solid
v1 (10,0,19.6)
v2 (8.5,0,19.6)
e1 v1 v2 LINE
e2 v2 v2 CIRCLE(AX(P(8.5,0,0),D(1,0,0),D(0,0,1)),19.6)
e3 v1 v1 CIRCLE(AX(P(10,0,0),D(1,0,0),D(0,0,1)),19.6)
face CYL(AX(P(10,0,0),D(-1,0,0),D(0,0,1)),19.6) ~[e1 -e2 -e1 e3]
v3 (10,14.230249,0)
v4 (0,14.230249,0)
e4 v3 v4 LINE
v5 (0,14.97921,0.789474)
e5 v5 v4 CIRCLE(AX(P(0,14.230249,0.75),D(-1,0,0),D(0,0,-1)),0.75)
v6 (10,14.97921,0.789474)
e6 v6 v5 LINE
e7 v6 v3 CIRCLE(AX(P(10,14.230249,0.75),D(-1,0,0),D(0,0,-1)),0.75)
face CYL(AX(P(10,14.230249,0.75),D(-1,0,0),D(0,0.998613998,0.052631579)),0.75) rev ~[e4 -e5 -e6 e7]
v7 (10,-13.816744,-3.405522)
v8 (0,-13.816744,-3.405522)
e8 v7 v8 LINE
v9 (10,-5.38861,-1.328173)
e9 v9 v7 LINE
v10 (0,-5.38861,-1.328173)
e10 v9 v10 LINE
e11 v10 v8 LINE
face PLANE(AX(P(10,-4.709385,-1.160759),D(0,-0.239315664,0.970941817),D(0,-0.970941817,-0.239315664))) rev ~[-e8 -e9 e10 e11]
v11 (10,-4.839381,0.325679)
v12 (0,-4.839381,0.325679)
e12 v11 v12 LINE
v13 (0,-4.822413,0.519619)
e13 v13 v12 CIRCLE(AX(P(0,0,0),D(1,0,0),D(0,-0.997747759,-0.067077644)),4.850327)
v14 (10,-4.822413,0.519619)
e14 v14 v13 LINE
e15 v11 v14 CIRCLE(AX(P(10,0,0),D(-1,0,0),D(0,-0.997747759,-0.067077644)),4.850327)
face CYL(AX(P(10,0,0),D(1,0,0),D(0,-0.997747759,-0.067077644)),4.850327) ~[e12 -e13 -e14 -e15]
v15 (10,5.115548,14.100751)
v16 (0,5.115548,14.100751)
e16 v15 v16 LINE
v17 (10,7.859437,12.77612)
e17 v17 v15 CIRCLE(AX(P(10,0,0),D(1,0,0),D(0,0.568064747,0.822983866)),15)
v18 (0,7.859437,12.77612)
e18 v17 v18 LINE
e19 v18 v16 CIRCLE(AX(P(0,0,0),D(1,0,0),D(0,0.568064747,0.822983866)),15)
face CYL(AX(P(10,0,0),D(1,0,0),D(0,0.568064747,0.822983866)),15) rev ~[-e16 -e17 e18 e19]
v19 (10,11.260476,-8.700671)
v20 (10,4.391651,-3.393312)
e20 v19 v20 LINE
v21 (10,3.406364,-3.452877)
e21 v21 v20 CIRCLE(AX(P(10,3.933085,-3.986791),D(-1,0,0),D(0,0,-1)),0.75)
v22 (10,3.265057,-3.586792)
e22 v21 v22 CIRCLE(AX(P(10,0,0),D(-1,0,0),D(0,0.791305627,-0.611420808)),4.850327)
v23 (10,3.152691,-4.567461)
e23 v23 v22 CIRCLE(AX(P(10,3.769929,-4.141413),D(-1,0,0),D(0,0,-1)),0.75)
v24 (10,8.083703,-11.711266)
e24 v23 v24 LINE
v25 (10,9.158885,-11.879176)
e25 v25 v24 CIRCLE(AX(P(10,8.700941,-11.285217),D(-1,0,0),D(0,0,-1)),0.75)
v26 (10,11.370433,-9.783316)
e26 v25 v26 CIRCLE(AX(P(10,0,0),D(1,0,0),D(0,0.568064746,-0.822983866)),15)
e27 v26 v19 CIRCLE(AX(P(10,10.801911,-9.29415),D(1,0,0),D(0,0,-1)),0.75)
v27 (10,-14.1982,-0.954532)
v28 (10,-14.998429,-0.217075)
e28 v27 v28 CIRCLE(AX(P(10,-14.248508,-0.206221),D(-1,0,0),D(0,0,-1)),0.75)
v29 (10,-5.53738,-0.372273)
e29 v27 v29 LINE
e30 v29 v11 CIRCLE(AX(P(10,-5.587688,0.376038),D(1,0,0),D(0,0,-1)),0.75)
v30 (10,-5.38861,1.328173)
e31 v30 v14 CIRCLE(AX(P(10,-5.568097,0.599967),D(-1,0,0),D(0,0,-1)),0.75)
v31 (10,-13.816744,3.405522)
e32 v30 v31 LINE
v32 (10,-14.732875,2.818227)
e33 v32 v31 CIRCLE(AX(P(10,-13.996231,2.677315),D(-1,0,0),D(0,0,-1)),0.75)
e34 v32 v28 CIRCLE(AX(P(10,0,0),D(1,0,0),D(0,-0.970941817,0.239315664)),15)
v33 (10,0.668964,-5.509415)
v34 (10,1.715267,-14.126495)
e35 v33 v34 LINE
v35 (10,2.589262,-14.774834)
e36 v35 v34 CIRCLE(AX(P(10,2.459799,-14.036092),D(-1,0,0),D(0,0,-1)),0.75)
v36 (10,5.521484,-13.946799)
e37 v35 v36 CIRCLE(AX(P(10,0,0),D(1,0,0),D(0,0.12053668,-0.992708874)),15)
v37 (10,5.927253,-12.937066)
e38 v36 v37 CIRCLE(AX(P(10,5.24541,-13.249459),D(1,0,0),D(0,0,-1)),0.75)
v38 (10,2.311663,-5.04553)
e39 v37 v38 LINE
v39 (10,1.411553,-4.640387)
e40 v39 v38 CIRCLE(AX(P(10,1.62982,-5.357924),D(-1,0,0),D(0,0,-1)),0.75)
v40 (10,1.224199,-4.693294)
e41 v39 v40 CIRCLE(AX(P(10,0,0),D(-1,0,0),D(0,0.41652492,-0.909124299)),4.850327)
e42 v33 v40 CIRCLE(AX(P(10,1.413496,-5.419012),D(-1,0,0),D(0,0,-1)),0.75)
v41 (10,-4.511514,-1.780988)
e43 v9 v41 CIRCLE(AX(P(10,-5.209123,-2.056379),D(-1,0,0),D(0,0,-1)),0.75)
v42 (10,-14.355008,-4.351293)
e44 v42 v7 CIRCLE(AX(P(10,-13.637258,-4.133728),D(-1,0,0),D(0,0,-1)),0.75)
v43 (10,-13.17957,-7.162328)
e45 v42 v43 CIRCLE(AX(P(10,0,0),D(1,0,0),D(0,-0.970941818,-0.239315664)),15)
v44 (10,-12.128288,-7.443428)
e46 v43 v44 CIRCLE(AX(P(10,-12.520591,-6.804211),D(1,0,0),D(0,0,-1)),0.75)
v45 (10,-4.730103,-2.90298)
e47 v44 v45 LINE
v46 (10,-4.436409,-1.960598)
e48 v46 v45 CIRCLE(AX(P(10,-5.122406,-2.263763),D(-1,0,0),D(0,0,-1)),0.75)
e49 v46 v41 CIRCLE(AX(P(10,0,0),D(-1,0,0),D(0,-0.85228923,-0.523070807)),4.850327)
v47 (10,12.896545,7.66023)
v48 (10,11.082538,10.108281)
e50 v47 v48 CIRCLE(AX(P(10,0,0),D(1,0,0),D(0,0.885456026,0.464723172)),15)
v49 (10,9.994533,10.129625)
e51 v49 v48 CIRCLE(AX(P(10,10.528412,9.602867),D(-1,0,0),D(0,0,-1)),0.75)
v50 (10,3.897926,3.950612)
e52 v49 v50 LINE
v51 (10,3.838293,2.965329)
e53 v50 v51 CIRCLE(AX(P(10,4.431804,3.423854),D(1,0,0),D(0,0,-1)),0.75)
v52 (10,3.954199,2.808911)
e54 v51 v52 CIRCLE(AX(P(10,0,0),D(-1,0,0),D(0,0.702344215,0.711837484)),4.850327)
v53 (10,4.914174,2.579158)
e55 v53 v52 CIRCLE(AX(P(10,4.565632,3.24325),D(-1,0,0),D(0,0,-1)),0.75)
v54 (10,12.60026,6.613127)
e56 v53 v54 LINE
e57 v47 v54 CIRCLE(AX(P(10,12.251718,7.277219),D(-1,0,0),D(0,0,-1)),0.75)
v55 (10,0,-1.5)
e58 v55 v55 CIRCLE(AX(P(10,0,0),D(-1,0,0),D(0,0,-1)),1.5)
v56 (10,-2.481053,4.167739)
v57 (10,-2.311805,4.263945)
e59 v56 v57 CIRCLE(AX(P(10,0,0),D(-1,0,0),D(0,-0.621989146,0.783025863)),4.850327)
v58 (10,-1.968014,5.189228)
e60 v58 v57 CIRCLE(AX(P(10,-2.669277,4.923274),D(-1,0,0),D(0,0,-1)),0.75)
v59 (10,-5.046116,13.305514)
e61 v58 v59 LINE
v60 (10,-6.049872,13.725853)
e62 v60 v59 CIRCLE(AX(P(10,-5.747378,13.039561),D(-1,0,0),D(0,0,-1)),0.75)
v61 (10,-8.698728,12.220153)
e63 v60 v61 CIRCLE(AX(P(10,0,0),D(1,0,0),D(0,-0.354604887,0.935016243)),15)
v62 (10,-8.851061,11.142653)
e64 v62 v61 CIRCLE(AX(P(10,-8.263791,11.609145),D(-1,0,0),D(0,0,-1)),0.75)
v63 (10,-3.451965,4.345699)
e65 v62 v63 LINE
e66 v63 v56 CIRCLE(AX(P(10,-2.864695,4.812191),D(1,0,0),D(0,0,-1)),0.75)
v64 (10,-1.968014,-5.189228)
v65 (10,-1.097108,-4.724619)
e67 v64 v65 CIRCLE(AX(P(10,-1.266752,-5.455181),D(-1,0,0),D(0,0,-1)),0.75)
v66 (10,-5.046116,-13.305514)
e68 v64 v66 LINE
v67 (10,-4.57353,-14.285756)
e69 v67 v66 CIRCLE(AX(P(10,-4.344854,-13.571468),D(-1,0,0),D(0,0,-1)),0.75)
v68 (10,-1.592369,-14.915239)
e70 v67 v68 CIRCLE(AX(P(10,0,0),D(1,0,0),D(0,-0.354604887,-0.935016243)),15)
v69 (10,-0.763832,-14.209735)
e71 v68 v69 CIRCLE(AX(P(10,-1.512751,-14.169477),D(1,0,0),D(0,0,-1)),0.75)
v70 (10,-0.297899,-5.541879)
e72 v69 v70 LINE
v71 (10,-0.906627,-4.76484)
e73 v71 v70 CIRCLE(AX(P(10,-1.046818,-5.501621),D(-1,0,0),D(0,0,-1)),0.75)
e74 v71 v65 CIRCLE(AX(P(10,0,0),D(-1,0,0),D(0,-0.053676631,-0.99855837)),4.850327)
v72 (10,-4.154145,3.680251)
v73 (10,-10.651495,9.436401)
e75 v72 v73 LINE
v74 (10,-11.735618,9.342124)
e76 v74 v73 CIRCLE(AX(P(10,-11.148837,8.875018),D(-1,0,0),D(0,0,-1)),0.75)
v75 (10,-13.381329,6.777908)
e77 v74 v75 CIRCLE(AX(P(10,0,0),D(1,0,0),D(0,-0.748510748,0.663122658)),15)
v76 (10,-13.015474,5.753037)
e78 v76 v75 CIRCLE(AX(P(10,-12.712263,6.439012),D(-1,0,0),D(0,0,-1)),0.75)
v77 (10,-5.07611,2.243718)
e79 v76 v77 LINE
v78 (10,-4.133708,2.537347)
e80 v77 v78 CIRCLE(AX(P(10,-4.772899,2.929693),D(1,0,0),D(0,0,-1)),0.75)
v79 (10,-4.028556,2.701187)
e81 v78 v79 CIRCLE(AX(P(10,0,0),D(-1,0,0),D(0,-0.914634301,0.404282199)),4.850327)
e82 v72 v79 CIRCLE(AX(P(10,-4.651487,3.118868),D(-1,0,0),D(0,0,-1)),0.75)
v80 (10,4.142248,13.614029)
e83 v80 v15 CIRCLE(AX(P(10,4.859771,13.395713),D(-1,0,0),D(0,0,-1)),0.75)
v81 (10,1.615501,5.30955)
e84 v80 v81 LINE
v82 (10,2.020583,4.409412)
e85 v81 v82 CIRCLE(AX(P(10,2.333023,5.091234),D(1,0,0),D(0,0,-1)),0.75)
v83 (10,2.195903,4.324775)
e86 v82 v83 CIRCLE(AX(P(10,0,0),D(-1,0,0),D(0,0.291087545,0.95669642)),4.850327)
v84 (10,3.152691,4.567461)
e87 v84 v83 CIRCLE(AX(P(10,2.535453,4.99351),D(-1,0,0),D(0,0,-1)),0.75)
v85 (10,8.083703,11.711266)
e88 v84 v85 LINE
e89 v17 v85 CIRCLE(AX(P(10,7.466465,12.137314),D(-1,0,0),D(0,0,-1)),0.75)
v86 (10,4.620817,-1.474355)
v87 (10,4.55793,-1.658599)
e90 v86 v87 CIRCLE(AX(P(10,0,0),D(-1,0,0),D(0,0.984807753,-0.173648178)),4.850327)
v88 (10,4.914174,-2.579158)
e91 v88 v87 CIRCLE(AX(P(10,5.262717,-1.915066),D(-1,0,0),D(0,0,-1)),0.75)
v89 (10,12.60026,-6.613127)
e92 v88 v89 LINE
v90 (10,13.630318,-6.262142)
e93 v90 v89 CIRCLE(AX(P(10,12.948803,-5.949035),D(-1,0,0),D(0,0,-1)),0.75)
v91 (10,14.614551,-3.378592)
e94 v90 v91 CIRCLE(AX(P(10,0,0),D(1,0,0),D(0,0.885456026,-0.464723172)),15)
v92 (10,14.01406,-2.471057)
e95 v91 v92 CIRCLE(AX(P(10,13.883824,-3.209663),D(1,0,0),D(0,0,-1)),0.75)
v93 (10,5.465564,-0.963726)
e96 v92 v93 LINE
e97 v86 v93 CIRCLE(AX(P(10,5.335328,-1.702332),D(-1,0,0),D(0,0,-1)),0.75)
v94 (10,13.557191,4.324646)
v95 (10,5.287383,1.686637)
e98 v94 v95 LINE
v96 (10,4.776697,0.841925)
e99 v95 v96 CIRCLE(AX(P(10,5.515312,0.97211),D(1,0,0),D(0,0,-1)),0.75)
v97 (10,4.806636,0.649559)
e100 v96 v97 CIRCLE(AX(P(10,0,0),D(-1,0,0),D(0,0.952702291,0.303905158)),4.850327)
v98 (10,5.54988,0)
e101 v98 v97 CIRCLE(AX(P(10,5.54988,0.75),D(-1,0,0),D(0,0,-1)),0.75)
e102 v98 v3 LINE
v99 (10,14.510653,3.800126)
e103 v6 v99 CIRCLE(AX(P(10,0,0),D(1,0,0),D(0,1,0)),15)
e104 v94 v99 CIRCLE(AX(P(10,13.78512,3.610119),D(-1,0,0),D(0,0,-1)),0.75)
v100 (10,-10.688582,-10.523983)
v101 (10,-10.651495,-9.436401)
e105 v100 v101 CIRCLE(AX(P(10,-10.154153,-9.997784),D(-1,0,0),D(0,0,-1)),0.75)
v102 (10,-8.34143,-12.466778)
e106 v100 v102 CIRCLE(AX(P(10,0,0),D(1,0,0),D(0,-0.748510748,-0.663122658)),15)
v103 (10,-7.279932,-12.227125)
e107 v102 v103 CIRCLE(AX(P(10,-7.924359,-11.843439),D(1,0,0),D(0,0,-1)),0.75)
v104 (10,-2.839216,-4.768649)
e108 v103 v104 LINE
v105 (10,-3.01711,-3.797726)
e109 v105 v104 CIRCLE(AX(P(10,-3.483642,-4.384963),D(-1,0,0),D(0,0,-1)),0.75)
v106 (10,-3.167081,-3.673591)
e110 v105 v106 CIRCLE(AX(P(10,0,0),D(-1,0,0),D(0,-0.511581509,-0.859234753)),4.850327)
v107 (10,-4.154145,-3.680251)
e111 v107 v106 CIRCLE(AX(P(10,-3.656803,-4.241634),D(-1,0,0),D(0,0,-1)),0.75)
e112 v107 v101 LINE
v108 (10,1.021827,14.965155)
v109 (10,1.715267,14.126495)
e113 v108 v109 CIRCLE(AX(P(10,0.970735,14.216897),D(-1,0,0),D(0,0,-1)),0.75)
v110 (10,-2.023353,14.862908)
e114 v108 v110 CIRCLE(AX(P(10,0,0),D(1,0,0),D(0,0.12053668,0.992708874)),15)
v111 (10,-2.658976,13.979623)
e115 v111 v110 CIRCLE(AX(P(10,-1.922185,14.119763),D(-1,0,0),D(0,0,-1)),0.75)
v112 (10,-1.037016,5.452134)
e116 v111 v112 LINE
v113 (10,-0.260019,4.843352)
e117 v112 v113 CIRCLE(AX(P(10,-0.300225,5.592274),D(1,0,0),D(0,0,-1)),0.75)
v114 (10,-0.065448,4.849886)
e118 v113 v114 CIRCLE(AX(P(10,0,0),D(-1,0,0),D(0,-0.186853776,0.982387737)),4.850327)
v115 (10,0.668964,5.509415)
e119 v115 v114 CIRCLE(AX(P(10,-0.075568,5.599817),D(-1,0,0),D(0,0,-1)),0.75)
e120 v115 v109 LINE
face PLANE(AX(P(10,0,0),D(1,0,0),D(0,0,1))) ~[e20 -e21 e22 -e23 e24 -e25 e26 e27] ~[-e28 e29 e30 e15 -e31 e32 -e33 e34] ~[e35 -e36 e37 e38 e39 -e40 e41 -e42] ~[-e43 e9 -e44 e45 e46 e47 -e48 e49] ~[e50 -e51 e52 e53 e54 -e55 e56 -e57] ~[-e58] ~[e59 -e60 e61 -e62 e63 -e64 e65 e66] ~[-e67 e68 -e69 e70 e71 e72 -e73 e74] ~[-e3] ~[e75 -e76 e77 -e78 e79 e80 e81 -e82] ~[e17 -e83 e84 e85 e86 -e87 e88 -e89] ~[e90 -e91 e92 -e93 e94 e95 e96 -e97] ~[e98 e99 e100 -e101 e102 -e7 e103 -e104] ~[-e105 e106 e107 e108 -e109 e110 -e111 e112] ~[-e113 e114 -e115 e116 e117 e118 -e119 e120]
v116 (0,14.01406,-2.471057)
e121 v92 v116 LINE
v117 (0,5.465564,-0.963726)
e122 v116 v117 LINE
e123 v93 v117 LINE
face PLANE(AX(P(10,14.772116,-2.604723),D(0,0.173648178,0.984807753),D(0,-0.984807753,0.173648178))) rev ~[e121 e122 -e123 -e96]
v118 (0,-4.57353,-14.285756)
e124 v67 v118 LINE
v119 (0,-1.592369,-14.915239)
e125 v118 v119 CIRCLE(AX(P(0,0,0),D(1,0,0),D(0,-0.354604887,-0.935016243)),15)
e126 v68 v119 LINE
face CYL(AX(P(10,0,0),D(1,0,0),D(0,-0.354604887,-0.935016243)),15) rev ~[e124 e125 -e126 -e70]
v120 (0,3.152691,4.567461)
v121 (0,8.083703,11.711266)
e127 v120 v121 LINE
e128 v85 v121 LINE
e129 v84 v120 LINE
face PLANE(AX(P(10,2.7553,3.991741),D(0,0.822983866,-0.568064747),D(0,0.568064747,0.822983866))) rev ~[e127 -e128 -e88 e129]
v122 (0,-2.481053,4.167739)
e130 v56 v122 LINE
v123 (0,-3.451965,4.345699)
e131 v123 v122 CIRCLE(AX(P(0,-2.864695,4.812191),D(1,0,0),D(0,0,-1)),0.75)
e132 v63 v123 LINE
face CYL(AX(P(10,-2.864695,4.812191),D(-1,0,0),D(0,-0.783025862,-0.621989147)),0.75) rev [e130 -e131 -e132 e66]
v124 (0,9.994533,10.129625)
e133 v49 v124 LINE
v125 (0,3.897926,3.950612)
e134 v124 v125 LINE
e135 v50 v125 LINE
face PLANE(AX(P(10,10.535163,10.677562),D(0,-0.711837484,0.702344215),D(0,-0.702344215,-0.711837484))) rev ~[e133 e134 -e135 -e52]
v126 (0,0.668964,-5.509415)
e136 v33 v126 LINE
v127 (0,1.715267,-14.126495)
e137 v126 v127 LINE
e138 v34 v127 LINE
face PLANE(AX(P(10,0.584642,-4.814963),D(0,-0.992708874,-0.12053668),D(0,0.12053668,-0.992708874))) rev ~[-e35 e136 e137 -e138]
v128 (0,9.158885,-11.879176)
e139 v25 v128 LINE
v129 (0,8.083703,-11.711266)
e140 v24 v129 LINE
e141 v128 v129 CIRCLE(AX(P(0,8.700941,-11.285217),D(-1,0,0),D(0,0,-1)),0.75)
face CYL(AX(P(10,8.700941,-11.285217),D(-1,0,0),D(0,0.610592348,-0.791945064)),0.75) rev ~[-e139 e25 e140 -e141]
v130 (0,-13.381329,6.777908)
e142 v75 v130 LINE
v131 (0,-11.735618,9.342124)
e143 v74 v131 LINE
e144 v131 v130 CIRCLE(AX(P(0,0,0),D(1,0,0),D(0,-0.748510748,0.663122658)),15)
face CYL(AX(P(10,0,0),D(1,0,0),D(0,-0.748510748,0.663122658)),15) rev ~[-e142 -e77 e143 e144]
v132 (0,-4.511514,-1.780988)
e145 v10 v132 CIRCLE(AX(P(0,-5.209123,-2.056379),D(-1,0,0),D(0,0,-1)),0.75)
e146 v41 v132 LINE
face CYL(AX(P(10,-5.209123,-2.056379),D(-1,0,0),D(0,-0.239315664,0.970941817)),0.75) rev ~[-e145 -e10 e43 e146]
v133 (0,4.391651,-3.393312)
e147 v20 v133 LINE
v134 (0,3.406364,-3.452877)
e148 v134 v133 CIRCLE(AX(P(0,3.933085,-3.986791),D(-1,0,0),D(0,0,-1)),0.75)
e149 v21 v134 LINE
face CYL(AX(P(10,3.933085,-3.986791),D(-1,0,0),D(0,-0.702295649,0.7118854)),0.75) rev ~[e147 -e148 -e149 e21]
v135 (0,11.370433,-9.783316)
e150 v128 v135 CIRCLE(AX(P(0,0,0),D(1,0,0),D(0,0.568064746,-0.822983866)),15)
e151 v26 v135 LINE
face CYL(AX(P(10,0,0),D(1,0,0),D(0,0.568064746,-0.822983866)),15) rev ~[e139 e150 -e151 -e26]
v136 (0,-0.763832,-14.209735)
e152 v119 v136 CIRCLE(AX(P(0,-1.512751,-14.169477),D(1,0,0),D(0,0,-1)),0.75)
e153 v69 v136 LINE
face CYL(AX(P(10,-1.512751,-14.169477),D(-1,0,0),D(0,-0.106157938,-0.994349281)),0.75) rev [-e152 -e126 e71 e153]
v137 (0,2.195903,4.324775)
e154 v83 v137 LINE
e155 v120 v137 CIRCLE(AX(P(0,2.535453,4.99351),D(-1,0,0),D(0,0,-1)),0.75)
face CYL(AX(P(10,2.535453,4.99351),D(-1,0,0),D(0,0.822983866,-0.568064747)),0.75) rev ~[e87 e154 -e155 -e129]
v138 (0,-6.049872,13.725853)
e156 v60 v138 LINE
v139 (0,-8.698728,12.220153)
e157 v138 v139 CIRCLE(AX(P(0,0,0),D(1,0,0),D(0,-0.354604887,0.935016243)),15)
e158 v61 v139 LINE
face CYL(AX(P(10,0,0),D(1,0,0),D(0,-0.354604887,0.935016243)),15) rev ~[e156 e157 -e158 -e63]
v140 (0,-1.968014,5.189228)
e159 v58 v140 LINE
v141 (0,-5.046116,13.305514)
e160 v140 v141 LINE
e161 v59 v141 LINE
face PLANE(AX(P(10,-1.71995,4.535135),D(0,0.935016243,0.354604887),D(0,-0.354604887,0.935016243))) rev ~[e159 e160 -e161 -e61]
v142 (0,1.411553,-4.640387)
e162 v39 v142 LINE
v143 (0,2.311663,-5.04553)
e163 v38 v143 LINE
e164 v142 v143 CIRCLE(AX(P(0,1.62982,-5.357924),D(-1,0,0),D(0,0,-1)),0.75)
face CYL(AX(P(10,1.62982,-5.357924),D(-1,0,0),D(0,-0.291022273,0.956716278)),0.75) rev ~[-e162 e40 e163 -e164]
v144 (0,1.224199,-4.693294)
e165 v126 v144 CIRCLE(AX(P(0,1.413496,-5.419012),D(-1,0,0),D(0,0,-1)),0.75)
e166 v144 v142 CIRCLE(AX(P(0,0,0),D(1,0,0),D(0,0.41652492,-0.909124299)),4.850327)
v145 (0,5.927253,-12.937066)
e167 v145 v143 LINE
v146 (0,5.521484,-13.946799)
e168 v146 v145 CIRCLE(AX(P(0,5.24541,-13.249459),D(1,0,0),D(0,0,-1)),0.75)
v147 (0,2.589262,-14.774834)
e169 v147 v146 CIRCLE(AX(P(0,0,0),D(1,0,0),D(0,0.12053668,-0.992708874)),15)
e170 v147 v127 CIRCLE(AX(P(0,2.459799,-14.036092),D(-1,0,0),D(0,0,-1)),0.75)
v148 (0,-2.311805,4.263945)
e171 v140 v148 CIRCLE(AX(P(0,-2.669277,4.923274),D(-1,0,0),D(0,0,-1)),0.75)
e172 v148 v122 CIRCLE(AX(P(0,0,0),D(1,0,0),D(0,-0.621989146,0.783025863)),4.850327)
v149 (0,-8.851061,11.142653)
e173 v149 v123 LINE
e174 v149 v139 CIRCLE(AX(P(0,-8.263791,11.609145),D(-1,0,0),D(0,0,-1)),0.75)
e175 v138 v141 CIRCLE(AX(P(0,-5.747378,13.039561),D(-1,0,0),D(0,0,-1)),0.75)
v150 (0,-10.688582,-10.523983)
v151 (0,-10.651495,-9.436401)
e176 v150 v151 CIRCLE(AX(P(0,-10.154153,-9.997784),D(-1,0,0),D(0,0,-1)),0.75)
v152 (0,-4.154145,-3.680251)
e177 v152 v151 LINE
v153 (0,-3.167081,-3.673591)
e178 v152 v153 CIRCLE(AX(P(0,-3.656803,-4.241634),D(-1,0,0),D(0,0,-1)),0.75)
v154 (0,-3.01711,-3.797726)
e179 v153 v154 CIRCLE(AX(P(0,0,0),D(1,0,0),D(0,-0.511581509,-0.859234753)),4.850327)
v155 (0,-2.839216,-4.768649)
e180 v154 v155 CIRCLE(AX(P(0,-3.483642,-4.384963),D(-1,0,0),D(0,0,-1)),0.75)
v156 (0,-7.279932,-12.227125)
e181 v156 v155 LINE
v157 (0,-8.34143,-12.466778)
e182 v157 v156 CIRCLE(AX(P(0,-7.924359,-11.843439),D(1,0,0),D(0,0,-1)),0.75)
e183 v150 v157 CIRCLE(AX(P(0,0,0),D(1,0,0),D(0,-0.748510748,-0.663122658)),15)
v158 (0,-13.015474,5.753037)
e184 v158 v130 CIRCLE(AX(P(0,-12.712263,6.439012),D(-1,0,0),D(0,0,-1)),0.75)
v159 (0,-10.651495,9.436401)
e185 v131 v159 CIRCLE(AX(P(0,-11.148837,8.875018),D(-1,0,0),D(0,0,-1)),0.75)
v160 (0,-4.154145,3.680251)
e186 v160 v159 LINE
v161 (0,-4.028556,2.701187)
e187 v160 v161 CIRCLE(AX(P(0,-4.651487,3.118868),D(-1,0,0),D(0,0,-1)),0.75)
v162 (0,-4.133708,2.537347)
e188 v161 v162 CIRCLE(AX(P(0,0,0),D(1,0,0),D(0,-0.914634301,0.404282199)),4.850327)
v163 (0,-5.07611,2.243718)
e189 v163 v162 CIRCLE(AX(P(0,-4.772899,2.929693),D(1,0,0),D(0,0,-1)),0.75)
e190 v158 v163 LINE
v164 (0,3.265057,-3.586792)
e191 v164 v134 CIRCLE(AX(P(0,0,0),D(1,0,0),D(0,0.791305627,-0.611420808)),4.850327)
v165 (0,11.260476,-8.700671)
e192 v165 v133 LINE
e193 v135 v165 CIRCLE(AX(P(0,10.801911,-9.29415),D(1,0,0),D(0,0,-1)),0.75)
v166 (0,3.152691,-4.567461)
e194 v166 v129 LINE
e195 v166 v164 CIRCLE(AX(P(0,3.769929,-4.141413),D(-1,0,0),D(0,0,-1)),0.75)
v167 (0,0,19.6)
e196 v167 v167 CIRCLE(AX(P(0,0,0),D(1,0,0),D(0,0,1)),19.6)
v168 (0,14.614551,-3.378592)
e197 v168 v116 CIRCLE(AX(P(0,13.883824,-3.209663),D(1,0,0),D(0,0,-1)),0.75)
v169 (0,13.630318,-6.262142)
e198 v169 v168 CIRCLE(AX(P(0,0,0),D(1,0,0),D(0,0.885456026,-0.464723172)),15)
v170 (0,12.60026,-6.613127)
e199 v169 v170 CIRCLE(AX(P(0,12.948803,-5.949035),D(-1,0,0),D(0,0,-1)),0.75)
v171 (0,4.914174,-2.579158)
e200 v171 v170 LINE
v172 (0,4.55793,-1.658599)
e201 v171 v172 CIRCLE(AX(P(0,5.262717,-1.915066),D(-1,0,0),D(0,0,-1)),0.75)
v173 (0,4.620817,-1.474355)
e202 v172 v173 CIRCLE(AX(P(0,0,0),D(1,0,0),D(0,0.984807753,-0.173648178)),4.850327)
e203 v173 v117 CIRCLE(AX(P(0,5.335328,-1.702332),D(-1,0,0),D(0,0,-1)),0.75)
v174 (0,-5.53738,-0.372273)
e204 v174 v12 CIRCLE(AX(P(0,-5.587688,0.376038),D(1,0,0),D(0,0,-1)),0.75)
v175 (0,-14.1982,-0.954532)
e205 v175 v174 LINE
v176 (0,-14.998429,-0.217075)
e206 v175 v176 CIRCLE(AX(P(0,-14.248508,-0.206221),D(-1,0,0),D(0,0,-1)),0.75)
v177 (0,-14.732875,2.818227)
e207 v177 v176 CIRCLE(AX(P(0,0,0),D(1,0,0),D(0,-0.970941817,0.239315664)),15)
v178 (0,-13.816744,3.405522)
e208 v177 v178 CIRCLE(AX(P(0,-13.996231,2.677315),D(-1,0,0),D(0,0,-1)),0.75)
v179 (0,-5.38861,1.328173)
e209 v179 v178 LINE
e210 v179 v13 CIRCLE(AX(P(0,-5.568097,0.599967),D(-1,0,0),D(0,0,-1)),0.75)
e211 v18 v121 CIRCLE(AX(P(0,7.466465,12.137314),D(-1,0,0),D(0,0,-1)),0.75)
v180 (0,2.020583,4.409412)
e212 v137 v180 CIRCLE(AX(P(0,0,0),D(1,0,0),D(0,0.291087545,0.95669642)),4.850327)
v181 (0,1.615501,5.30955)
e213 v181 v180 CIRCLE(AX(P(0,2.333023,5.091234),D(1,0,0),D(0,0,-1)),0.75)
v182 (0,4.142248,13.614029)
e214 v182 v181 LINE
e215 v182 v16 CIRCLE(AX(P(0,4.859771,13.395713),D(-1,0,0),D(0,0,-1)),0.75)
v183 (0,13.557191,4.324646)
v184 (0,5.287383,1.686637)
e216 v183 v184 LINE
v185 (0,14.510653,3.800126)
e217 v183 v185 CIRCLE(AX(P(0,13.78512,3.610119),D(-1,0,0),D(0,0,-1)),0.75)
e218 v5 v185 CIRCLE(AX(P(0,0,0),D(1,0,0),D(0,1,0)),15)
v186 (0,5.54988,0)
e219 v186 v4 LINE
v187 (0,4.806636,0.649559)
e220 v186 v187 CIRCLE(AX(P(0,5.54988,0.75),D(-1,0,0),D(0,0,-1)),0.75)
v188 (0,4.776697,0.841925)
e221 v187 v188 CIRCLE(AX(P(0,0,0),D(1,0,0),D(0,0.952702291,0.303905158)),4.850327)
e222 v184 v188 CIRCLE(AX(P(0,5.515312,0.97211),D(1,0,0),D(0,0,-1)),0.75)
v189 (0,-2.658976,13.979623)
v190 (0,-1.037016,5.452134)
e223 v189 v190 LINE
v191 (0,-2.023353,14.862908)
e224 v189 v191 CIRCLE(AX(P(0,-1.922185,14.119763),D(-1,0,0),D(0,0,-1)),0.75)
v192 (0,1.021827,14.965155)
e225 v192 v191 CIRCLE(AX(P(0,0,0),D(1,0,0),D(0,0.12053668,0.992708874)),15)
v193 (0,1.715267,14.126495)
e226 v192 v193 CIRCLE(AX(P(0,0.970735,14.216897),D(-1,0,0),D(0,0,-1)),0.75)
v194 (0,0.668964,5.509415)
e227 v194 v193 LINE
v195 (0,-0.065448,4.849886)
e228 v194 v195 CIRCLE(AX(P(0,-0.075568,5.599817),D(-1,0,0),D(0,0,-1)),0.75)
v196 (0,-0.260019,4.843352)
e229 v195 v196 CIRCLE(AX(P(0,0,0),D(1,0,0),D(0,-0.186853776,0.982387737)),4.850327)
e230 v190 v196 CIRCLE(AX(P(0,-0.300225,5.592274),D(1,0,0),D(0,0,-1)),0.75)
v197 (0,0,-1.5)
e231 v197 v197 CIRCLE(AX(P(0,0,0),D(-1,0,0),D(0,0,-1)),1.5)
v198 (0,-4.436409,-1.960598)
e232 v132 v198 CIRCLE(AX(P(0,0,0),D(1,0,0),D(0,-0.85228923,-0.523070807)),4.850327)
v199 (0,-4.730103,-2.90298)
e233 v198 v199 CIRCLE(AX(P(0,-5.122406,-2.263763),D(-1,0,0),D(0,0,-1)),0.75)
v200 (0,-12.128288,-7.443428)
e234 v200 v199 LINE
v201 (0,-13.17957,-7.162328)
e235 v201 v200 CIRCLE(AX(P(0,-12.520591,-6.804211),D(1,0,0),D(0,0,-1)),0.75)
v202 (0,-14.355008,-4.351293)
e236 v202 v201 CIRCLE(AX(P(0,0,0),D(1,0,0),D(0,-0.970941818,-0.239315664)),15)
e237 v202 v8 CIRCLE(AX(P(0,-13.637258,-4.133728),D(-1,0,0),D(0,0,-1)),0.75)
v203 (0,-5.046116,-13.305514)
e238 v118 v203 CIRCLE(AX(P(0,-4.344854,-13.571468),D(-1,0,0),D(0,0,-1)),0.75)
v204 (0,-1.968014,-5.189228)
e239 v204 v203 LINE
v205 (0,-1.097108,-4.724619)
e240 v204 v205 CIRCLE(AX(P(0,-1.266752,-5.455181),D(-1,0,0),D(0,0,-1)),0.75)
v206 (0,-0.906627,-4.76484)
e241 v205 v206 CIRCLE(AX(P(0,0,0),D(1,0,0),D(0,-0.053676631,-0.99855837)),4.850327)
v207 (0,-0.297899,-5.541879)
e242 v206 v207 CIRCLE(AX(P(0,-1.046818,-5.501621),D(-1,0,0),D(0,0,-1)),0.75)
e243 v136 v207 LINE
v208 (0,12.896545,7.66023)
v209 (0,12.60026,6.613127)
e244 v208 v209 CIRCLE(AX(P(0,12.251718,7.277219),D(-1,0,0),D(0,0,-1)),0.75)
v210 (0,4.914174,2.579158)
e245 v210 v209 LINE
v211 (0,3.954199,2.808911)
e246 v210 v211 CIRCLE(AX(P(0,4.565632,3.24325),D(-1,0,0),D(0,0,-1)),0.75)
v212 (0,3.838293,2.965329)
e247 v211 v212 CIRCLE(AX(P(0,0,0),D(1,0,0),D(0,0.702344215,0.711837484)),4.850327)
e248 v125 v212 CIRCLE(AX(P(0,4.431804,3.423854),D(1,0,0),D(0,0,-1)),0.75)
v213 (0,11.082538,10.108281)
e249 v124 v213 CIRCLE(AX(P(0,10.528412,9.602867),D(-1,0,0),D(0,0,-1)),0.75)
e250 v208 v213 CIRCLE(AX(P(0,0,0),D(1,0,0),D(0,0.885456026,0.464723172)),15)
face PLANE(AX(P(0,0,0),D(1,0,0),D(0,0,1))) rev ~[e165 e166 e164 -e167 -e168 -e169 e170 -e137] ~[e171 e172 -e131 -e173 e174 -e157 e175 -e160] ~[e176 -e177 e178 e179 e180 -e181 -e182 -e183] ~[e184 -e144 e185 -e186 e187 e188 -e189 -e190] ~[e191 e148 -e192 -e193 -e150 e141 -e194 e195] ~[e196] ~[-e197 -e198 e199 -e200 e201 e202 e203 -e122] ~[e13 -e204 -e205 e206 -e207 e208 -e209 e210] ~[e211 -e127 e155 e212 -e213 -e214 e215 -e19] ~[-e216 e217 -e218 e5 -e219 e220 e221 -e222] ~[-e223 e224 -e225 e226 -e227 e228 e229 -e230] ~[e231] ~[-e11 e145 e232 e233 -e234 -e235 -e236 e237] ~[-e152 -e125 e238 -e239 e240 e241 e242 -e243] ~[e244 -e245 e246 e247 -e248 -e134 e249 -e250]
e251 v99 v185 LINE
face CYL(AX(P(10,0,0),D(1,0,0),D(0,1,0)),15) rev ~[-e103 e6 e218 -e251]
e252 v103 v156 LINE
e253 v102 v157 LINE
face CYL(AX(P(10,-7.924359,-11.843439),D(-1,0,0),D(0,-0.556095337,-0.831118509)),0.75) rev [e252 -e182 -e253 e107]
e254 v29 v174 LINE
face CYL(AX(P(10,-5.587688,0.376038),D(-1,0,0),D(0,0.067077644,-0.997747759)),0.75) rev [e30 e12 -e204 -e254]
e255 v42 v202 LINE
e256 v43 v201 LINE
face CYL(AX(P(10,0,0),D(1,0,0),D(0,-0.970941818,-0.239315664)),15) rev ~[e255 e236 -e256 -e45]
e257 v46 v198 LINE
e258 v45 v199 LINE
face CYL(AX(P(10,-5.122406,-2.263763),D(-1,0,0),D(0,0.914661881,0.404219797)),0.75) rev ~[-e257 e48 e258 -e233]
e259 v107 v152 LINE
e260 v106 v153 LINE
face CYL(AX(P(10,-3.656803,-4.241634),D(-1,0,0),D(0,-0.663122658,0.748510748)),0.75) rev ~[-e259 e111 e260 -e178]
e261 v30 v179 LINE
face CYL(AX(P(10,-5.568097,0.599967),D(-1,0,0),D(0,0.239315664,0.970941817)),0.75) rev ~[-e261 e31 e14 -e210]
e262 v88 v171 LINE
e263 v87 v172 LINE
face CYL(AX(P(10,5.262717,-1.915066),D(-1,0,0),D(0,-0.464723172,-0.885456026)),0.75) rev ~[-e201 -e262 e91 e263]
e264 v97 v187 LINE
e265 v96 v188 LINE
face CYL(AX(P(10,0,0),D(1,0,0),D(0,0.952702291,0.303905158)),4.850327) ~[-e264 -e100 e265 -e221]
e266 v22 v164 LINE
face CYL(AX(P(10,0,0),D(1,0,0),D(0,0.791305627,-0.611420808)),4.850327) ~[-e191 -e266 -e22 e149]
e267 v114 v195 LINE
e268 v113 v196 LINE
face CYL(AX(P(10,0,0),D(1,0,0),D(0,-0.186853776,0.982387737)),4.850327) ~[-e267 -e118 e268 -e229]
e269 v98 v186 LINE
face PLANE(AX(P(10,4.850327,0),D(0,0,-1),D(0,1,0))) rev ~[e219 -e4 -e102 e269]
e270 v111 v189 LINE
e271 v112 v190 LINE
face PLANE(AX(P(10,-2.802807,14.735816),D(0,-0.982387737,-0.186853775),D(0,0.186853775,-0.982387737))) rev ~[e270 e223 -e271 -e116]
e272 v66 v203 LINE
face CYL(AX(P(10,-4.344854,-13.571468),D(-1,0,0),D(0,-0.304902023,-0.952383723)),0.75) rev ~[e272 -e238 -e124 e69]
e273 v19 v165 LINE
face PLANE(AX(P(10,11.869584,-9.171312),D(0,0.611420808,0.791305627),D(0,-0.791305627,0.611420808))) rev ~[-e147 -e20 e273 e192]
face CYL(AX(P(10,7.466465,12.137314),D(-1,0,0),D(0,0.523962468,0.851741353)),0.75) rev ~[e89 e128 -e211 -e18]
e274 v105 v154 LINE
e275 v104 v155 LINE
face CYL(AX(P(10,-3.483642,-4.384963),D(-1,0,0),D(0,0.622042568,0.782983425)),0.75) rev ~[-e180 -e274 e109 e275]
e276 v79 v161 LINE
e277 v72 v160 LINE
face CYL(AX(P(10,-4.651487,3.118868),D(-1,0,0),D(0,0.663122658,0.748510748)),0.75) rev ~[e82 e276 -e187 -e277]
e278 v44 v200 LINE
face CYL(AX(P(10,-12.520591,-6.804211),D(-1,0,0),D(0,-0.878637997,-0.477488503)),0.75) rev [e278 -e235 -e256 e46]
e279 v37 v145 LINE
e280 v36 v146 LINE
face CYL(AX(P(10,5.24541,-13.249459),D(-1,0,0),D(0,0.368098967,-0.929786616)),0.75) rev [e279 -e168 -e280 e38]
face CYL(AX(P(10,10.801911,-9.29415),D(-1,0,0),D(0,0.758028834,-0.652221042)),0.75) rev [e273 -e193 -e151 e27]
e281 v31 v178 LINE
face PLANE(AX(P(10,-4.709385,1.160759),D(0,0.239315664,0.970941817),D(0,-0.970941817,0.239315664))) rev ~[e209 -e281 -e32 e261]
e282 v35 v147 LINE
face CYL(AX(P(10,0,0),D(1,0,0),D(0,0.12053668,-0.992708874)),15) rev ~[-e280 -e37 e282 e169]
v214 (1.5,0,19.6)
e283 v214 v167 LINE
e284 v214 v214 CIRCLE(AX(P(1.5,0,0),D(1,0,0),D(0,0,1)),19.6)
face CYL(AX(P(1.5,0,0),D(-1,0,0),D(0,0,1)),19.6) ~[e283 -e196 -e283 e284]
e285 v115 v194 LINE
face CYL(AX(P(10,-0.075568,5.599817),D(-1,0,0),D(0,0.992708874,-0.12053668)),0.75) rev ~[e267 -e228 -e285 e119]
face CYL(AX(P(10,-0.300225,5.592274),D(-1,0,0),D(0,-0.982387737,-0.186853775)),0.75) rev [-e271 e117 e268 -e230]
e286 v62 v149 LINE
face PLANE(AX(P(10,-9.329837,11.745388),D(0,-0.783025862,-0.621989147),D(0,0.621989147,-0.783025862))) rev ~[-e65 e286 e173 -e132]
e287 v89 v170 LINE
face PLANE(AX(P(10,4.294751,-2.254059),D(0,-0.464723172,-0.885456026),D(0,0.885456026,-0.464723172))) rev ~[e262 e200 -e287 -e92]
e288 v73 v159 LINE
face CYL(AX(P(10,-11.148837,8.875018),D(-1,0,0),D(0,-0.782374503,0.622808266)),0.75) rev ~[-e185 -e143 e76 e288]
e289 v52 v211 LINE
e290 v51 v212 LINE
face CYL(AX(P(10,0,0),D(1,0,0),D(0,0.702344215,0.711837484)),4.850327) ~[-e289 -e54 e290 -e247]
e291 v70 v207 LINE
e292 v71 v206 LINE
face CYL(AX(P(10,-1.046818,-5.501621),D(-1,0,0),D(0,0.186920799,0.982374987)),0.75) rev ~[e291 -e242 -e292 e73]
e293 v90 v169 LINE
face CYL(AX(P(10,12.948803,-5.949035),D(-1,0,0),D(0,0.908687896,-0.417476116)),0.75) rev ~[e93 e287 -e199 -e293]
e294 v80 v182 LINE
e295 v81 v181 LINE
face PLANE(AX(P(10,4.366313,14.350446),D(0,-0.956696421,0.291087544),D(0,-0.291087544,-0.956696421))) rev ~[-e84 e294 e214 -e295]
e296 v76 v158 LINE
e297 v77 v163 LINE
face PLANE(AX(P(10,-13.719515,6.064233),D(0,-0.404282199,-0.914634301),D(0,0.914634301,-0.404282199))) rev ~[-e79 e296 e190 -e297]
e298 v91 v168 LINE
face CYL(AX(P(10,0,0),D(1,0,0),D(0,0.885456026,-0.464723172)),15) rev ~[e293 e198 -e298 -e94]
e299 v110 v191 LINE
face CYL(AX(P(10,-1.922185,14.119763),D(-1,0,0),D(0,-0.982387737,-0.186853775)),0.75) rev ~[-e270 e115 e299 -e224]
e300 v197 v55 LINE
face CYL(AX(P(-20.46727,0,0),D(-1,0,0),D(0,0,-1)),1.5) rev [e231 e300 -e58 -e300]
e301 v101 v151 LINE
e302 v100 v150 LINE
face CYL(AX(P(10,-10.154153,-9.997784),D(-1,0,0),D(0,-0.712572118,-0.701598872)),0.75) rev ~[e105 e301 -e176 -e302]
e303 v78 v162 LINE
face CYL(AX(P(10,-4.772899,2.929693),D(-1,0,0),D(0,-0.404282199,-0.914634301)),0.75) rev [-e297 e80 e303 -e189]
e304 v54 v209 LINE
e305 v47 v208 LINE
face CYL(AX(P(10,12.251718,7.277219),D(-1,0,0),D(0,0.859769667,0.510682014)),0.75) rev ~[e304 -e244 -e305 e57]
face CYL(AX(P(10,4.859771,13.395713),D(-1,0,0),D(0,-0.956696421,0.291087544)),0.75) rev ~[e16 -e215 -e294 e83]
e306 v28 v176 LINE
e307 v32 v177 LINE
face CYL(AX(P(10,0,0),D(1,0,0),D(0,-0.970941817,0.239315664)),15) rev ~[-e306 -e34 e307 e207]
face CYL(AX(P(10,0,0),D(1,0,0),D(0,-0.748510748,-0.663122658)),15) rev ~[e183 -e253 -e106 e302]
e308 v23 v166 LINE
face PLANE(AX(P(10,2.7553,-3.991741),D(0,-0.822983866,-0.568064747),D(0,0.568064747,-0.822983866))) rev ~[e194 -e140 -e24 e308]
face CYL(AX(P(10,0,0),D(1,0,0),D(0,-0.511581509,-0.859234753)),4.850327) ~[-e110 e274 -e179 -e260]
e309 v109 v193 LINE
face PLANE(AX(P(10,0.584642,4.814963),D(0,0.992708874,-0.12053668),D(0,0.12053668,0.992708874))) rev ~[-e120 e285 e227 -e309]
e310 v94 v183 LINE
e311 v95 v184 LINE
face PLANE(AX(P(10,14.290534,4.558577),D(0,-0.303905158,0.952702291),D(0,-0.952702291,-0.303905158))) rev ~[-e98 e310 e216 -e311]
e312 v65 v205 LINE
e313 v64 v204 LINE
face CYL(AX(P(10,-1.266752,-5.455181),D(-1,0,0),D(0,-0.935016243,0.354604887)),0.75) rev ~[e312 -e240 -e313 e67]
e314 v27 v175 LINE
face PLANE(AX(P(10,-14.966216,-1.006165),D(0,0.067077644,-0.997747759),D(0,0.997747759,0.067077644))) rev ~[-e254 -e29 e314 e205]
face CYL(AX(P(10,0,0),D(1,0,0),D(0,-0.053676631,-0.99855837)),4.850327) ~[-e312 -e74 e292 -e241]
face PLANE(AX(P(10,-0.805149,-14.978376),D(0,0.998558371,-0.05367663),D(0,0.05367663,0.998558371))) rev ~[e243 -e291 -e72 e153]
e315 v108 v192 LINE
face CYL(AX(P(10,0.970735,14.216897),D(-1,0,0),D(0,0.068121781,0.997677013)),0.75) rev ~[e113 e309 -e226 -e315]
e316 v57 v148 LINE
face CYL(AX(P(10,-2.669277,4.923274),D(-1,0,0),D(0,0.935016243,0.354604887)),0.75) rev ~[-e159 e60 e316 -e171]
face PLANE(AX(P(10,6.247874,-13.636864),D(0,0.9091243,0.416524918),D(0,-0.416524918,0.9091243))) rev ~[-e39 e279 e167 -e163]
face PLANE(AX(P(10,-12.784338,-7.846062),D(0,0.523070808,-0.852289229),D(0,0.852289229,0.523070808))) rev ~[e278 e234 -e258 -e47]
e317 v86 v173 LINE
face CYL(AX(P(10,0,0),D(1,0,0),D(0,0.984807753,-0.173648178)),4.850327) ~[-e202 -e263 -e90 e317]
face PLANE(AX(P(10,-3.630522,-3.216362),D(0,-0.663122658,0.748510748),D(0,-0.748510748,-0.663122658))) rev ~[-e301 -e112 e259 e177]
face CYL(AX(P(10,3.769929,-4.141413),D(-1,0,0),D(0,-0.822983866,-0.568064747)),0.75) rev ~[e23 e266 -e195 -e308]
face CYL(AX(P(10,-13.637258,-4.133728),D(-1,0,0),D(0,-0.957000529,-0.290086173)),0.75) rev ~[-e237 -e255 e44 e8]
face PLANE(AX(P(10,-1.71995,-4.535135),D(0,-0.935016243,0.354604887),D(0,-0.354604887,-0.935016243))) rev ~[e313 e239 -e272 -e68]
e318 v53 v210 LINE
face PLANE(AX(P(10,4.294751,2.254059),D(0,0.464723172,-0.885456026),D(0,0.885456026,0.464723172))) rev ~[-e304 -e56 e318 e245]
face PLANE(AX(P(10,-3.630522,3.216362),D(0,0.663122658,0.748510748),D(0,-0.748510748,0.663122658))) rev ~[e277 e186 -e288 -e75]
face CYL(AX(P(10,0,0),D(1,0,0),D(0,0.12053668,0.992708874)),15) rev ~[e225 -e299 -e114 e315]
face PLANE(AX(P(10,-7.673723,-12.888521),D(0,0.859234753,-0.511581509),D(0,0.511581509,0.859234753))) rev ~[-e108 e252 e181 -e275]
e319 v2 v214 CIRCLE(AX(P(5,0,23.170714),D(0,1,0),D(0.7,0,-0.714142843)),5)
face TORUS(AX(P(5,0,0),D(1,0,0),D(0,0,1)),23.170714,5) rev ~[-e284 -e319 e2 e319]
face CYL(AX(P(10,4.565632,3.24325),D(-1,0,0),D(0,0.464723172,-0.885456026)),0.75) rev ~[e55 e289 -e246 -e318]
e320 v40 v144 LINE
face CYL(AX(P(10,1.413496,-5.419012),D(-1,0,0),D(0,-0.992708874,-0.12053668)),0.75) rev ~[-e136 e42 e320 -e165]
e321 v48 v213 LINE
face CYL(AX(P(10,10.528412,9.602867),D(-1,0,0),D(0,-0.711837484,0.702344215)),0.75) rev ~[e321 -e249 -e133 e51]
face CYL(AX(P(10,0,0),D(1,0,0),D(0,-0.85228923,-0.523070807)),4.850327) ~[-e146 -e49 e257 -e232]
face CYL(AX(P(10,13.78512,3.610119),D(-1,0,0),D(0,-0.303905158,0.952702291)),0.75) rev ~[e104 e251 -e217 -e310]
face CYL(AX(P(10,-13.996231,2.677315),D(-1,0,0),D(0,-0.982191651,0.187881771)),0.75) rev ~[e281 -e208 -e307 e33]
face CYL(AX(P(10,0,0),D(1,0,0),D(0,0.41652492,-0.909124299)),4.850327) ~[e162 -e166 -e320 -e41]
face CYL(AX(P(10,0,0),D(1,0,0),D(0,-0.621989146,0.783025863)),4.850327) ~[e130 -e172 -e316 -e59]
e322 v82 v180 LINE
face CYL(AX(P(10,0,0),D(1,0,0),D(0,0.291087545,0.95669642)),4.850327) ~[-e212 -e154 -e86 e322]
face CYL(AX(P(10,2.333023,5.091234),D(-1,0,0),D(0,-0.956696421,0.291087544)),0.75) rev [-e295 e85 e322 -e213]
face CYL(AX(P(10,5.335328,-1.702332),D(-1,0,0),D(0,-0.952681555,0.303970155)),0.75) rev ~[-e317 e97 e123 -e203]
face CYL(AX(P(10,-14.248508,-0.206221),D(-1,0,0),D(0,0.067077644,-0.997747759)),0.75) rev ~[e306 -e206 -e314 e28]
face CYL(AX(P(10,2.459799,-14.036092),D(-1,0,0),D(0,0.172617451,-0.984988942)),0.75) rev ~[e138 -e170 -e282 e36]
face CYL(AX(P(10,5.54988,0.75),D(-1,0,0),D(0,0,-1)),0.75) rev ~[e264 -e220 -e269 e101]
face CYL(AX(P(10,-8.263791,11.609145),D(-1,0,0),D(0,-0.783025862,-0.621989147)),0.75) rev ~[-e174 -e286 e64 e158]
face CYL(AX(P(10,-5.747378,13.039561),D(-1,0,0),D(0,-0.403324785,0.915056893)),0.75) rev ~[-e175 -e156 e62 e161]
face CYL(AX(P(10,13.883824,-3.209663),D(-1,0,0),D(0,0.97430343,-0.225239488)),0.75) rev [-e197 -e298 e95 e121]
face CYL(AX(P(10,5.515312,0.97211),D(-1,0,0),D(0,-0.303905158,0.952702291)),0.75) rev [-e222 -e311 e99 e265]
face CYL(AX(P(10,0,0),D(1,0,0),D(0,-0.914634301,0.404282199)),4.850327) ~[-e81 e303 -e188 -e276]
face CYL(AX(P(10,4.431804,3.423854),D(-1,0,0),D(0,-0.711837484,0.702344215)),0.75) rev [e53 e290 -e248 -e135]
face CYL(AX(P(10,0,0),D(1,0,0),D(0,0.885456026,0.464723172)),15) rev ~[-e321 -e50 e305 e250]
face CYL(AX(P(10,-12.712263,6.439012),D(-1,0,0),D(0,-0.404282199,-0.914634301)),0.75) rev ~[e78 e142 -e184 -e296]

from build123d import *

# Parameters (mm, degrees)
CUT_EXTRUDE2_DEPTH      = 30.467269979
FILLET1_R               = 0.75
CUT_EXTRUDE3_DEPTH      = 30.467269979
CUT_EXTRUDE3_DEPTH_BACK = 30.467269979
SKETCH2_R               = 1.5


with BuildPart() as part:
    # Sketch1 → Revolve2 (revolve)
    with BuildSketch(Plane.XY, mode=Mode.PRIVATE) as revolve2_sk:
        with BuildLine():
            Line((0, 0), (10, 0))
            Line((10, 0), (10, 19.6))
            Line((10, 19.6), (8.5, 19.6))
            ThreePointArc((8.5, 19.6), (5, 18.170714214), (1.5, 19.6))
            Line((1.5, 19.6), (0, 19.6))
            Line((0, 19.6), (0, 0))
        make_face()
    revolve(revolve2_sk.sketch.rotate(Axis((0, 0, 0), (1, 0, 0)), 90), axis=Axis((0, 0, 0), (1, 0, 0)))

    # Sketch3 → Cut-Extrude2 (cut, through all)
    with BuildSketch(Plane(origin=(10, 0, 0), x_dir=(0, 0, -1), z_dir=(1, 0, 0))):
        with BuildLine():
            Line((2.604722665, 14.772116295), (0.84225046, 4.776639722))
            ThreePointArc((0.84225046, 4.776639722), (1.566792192, 4.590297931), (2.25405939, 4.294751347))
            Line((2.25405939, 4.294751347), (6.970847581, 13.281840385))
            ThreePointArc((6.970847581, 13.281840385), (4.845422268, 14.195840343), (2.604722665, 14.772116295))
        make_face()
        with BuildLine():
            Line((9.171312121, 11.869584406), (2.965590908, 3.838091119))
            ThreePointArc((2.965590908, 3.838091119), (3.520543403, 3.336382325), (3.991740938, 2.755299829))
            Line((3.991740938, 2.755299829), (12.344757988, 8.520971201))
            ThreePointArc((12.344757988, 8.520971201), (10.887544298, 10.318012365), (9.171312121, 11.869584406))
        make_face()
        with BuildLine():
            Line((13.636864497, 6.247873773), (4.409550218, 2.020282094))
            ThreePointArc((4.409550218, 2.020282094), (4.667780547, 1.318141736), (4.814962743, 0.584642325))
            Line((4.814962743, 0.584642325), (14.890633111, 1.808050204))
            ThreePointArc((14.890633111, 1.808050204), (14.435461139, 4.076452099), (13.636864497, 6.247873773))
        make_face()
        with BuildLine():
            Line((14.978375558, -0.805149446), (4.843334715, -0.260349211))
            ThreePointArc((4.843334715, -0.260349211), (4.74568542, -1.002069239), (4.53513461, -1.719949689))
            Line((4.53513461, -1.719949689), (14.02524364, -5.319073306))
            ThreePointArc((14.02524364, -5.319073306), (14.676387798, -3.098974216), (14.978375558, -0.805149446))
        make_face()
        with BuildLine():
            Line((12.888521288, -7.67372263), (4.167569596, -2.48133765))
            ThreePointArc((4.167569596, -2.48133765), (3.736410956, -3.092718228), (3.216361792, -3.630521958))
            Line((3.216361792, -3.630521958), (9.946839874, -11.227661223))
            ThreePointArc((9.946839874, -11.227661223), (11.555130883, -9.564462885), (12.888521288, -7.67372263))
        make_face()
        with BuildLine():
            Line((7.846062115, -12.784338438), (2.537064508, -4.133881536))
            ThreePointArc((2.537064508, -4.133881536), (1.87116977, -4.474862742), (1.160759249, -4.709385399))
            Line((1.160759249, -4.709385399), (3.589734964, -14.564127261))
            ThreePointArc((3.589734964, -14.564127261), (5.786732737, -13.838848371), (7.846062115, -12.784338438))
        make_face()
        with BuildLine():
            ThreePointArc((0.325348516, -4.839402981), (-0.42273386, -4.83187013), (-1.160759249, -4.709385399))
            Line((-1.160759249, -4.709385399), (-3.589734964, -14.564127261))
            ThreePointArc((-3.589734964, -14.564127261), (-1.307336141, -14.942920471), (1.006164666, -14.966216378))
            Line((1.006164666, -14.966216378), (0.325348516, -4.839402981))
        make_face()
        with BuildLine():
            ThreePointArc((-1.9609009, -4.436275524), (-2.619794257, -4.081954301), (-3.216361792, -3.630521958))
            Line((-3.216361792, -3.630521958), (-9.946839874, -11.227661223))
            ThreePointArc((-9.946839874, -11.227661223), (-8.101910065, -12.623749574), (-6.064232982, -13.719514508))
            Line((-6.064232982, -13.719514508), (-1.9609009, -4.436275524))
        make_face()
        with BuildLine():
            ThreePointArc((-3.797931552, -3.016850808), (-4.216691362, -2.396911935), (-4.53513461, -1.719949689))
            Line((-4.53513461, -1.719949689), (-14.02524364, -5.319073306))
            ThreePointArc((-14.02524364, -5.319073306), (-13.040434031, -7.412629781), (-11.745387936, -9.329837203))
            Line((-11.745387936, -9.329837203), (-3.797931552, -3.016850808))
        make_face()
        with BuildLine():
            ThreePointArc((-4.764901855, -0.906301928), (-4.847595293, -0.162765931), (-4.814962743, 0.584642325))
            Line((-4.814962743, 0.584642325), (-14.890633111, 1.808050204))
            ThreePointArc((-14.890633111, 1.808050204), (-14.991551715, -0.503365838), (-14.735816061, -2.802806631))
            Line((-14.735816061, -2.802806631), (-4.764901855, -0.906301928))
        make_face()
        with BuildLine():
            ThreePointArc((-4.640290566, 1.411869801), (-4.367973561, 2.108667787), (-3.991740938, 2.755299829))
            Line((-3.991740938, 2.755299829), (-12.344757988, 8.520971201))
            ThreePointArc((-12.344757988, 8.520971201), (-13.508285569, 6.521213153), (-14.350446312, 4.366313163))
            Line((-14.350446312, 4.366313163), (-4.640290566, 1.411869801))
        make_face()
        with BuildLine():
            ThreePointArc((-3.45264463, 3.406599173), (-2.887701727, 3.897031127), (-2.25405939, 4.294751347))
            Line((-2.25405939, 4.294751347), (-6.970847581, 13.281840385))
            ThreePointArc((-6.970847581, 13.281840385), (-8.930433992, 12.051860799), (-10.677562255, 10.53516323))
            Line((-10.677562255, 10.53516323), (-3.45264463, 3.406599173))
        make_face()
        with BuildLine():
            ThreePointArc((-1.474039418, 4.620917729), (-0.745892228, 4.7926316), (0, 4.850327089))
            Line((0, 4.850327089), (0, 15))
            ThreePointArc((0, 15), (-2.30672761, 14.821572377), (-4.558577364, 14.290534364))
            Line((-4.558577364, 14.290534364), (-1.474039418, 4.620917729))
        make_face()
    extrude(amount=-CUT_EXTRUDE2_DEPTH, mode=Mode.SUBTRACT)

    # Fillet1
    fillet1_edges = [part.edges().sort_by_distance(p)[0] for p in [
        (5, -11.227661223, -9.946839874),
        (5, 2.755299829, -3.991740938),
        (5, 3.838091119, -2.965590908),
        (5, 11.869584406, -9.171312121),
        (5, 8.520971201, -12.344757988),
        (5, 0.584642325, -4.814962743),
        (5, 2.020282094, -4.409550218),
        (5, 6.247873773, -13.636864497),
        (5, 1.808050204, -14.890633111),
        (5, 4.294751347, 2.25405939),
        (5, 3.406599173, 3.45264463),
        (5, 10.53516323, 10.677562255),
        (5, 13.281840385, 6.970847581),
        (5, 4.850327089, 0),
        (5, 4.620917729, 1.474039418),
        (5, 14.290534364, 4.558577364),
        (5, 15, 0),
        (5, 0.584642325, 4.814962743),
        (5, -0.906301928, 4.764901855),
        (5, -2.802806631, 14.735816061),
        (5, 1.808050204, 14.890633111),
        (5, 2.755299829, 3.991740938),
        (5, 1.411869801, 4.640290566),
        (5, 4.366313163, 14.350446312),
        (5, 8.520971201, 12.344757988),
        (5, 4.294751347, -2.25405939),
        (5, 4.776639722, -0.84225046),
        (5, 14.772116295, -2.604722665),
        (5, 13.281840385, -6.970847581),
        (5, -4.709385399, -1.160759249),
        (5, -4.133881536, -2.537064508),
        (5, -12.784338438, -7.846062115),
        (5, -14.564127261, -3.589734964),
        (5, -4.709385399, 1.160759249),
        (5, -4.839402981, -0.325348516),
        (5, -14.966216378, -1.006164666),
        (5, -14.564127261, 3.589734964),
        (5, -1.719949689, 4.53513461),
        (5, -3.016850808, 3.797931552),
        (5, -9.329837203, 11.745387936),
        (5, -5.319073306, 14.02524364),
        (5, -3.630521958, 3.216361792),
        (5, -4.436275524, 1.9609009),
        (5, -13.719514508, 6.064232982),
        (5, -11.227661223, 9.946839874),
        (5, -1.719949689, -4.53513461),
        (5, -0.260349211, -4.843334715),
        (5, -0.805149446, -14.978375558),
        (5, -5.319073306, -14.02524364),
        (5, -3.630521958, -3.216361792),
        (5, -2.48133765, -4.167569596),
        (5, -7.67372263, -12.888521288),
    ]]
    fillet(fillet1_edges, radius=FILLET1_R)

    # Sketch2 → Cut-Extrude3 (cut, two sides: drawn at the far end of the back side and taken through both)
    with BuildSketch(Plane(origin=(10, 0, 0), x_dir=(0, 0, -1), z_dir=(1, 0, 0)).offset(-CUT_EXTRUDE3_DEPTH_BACK)):
        Circle(SKETCH2_R)
    extrude(amount=CUT_EXTRUDE3_DEPTH + CUT_EXTRUDE3_DEPTH_BACK, mode=Mode.SUBTRACT)


solid = part.part
